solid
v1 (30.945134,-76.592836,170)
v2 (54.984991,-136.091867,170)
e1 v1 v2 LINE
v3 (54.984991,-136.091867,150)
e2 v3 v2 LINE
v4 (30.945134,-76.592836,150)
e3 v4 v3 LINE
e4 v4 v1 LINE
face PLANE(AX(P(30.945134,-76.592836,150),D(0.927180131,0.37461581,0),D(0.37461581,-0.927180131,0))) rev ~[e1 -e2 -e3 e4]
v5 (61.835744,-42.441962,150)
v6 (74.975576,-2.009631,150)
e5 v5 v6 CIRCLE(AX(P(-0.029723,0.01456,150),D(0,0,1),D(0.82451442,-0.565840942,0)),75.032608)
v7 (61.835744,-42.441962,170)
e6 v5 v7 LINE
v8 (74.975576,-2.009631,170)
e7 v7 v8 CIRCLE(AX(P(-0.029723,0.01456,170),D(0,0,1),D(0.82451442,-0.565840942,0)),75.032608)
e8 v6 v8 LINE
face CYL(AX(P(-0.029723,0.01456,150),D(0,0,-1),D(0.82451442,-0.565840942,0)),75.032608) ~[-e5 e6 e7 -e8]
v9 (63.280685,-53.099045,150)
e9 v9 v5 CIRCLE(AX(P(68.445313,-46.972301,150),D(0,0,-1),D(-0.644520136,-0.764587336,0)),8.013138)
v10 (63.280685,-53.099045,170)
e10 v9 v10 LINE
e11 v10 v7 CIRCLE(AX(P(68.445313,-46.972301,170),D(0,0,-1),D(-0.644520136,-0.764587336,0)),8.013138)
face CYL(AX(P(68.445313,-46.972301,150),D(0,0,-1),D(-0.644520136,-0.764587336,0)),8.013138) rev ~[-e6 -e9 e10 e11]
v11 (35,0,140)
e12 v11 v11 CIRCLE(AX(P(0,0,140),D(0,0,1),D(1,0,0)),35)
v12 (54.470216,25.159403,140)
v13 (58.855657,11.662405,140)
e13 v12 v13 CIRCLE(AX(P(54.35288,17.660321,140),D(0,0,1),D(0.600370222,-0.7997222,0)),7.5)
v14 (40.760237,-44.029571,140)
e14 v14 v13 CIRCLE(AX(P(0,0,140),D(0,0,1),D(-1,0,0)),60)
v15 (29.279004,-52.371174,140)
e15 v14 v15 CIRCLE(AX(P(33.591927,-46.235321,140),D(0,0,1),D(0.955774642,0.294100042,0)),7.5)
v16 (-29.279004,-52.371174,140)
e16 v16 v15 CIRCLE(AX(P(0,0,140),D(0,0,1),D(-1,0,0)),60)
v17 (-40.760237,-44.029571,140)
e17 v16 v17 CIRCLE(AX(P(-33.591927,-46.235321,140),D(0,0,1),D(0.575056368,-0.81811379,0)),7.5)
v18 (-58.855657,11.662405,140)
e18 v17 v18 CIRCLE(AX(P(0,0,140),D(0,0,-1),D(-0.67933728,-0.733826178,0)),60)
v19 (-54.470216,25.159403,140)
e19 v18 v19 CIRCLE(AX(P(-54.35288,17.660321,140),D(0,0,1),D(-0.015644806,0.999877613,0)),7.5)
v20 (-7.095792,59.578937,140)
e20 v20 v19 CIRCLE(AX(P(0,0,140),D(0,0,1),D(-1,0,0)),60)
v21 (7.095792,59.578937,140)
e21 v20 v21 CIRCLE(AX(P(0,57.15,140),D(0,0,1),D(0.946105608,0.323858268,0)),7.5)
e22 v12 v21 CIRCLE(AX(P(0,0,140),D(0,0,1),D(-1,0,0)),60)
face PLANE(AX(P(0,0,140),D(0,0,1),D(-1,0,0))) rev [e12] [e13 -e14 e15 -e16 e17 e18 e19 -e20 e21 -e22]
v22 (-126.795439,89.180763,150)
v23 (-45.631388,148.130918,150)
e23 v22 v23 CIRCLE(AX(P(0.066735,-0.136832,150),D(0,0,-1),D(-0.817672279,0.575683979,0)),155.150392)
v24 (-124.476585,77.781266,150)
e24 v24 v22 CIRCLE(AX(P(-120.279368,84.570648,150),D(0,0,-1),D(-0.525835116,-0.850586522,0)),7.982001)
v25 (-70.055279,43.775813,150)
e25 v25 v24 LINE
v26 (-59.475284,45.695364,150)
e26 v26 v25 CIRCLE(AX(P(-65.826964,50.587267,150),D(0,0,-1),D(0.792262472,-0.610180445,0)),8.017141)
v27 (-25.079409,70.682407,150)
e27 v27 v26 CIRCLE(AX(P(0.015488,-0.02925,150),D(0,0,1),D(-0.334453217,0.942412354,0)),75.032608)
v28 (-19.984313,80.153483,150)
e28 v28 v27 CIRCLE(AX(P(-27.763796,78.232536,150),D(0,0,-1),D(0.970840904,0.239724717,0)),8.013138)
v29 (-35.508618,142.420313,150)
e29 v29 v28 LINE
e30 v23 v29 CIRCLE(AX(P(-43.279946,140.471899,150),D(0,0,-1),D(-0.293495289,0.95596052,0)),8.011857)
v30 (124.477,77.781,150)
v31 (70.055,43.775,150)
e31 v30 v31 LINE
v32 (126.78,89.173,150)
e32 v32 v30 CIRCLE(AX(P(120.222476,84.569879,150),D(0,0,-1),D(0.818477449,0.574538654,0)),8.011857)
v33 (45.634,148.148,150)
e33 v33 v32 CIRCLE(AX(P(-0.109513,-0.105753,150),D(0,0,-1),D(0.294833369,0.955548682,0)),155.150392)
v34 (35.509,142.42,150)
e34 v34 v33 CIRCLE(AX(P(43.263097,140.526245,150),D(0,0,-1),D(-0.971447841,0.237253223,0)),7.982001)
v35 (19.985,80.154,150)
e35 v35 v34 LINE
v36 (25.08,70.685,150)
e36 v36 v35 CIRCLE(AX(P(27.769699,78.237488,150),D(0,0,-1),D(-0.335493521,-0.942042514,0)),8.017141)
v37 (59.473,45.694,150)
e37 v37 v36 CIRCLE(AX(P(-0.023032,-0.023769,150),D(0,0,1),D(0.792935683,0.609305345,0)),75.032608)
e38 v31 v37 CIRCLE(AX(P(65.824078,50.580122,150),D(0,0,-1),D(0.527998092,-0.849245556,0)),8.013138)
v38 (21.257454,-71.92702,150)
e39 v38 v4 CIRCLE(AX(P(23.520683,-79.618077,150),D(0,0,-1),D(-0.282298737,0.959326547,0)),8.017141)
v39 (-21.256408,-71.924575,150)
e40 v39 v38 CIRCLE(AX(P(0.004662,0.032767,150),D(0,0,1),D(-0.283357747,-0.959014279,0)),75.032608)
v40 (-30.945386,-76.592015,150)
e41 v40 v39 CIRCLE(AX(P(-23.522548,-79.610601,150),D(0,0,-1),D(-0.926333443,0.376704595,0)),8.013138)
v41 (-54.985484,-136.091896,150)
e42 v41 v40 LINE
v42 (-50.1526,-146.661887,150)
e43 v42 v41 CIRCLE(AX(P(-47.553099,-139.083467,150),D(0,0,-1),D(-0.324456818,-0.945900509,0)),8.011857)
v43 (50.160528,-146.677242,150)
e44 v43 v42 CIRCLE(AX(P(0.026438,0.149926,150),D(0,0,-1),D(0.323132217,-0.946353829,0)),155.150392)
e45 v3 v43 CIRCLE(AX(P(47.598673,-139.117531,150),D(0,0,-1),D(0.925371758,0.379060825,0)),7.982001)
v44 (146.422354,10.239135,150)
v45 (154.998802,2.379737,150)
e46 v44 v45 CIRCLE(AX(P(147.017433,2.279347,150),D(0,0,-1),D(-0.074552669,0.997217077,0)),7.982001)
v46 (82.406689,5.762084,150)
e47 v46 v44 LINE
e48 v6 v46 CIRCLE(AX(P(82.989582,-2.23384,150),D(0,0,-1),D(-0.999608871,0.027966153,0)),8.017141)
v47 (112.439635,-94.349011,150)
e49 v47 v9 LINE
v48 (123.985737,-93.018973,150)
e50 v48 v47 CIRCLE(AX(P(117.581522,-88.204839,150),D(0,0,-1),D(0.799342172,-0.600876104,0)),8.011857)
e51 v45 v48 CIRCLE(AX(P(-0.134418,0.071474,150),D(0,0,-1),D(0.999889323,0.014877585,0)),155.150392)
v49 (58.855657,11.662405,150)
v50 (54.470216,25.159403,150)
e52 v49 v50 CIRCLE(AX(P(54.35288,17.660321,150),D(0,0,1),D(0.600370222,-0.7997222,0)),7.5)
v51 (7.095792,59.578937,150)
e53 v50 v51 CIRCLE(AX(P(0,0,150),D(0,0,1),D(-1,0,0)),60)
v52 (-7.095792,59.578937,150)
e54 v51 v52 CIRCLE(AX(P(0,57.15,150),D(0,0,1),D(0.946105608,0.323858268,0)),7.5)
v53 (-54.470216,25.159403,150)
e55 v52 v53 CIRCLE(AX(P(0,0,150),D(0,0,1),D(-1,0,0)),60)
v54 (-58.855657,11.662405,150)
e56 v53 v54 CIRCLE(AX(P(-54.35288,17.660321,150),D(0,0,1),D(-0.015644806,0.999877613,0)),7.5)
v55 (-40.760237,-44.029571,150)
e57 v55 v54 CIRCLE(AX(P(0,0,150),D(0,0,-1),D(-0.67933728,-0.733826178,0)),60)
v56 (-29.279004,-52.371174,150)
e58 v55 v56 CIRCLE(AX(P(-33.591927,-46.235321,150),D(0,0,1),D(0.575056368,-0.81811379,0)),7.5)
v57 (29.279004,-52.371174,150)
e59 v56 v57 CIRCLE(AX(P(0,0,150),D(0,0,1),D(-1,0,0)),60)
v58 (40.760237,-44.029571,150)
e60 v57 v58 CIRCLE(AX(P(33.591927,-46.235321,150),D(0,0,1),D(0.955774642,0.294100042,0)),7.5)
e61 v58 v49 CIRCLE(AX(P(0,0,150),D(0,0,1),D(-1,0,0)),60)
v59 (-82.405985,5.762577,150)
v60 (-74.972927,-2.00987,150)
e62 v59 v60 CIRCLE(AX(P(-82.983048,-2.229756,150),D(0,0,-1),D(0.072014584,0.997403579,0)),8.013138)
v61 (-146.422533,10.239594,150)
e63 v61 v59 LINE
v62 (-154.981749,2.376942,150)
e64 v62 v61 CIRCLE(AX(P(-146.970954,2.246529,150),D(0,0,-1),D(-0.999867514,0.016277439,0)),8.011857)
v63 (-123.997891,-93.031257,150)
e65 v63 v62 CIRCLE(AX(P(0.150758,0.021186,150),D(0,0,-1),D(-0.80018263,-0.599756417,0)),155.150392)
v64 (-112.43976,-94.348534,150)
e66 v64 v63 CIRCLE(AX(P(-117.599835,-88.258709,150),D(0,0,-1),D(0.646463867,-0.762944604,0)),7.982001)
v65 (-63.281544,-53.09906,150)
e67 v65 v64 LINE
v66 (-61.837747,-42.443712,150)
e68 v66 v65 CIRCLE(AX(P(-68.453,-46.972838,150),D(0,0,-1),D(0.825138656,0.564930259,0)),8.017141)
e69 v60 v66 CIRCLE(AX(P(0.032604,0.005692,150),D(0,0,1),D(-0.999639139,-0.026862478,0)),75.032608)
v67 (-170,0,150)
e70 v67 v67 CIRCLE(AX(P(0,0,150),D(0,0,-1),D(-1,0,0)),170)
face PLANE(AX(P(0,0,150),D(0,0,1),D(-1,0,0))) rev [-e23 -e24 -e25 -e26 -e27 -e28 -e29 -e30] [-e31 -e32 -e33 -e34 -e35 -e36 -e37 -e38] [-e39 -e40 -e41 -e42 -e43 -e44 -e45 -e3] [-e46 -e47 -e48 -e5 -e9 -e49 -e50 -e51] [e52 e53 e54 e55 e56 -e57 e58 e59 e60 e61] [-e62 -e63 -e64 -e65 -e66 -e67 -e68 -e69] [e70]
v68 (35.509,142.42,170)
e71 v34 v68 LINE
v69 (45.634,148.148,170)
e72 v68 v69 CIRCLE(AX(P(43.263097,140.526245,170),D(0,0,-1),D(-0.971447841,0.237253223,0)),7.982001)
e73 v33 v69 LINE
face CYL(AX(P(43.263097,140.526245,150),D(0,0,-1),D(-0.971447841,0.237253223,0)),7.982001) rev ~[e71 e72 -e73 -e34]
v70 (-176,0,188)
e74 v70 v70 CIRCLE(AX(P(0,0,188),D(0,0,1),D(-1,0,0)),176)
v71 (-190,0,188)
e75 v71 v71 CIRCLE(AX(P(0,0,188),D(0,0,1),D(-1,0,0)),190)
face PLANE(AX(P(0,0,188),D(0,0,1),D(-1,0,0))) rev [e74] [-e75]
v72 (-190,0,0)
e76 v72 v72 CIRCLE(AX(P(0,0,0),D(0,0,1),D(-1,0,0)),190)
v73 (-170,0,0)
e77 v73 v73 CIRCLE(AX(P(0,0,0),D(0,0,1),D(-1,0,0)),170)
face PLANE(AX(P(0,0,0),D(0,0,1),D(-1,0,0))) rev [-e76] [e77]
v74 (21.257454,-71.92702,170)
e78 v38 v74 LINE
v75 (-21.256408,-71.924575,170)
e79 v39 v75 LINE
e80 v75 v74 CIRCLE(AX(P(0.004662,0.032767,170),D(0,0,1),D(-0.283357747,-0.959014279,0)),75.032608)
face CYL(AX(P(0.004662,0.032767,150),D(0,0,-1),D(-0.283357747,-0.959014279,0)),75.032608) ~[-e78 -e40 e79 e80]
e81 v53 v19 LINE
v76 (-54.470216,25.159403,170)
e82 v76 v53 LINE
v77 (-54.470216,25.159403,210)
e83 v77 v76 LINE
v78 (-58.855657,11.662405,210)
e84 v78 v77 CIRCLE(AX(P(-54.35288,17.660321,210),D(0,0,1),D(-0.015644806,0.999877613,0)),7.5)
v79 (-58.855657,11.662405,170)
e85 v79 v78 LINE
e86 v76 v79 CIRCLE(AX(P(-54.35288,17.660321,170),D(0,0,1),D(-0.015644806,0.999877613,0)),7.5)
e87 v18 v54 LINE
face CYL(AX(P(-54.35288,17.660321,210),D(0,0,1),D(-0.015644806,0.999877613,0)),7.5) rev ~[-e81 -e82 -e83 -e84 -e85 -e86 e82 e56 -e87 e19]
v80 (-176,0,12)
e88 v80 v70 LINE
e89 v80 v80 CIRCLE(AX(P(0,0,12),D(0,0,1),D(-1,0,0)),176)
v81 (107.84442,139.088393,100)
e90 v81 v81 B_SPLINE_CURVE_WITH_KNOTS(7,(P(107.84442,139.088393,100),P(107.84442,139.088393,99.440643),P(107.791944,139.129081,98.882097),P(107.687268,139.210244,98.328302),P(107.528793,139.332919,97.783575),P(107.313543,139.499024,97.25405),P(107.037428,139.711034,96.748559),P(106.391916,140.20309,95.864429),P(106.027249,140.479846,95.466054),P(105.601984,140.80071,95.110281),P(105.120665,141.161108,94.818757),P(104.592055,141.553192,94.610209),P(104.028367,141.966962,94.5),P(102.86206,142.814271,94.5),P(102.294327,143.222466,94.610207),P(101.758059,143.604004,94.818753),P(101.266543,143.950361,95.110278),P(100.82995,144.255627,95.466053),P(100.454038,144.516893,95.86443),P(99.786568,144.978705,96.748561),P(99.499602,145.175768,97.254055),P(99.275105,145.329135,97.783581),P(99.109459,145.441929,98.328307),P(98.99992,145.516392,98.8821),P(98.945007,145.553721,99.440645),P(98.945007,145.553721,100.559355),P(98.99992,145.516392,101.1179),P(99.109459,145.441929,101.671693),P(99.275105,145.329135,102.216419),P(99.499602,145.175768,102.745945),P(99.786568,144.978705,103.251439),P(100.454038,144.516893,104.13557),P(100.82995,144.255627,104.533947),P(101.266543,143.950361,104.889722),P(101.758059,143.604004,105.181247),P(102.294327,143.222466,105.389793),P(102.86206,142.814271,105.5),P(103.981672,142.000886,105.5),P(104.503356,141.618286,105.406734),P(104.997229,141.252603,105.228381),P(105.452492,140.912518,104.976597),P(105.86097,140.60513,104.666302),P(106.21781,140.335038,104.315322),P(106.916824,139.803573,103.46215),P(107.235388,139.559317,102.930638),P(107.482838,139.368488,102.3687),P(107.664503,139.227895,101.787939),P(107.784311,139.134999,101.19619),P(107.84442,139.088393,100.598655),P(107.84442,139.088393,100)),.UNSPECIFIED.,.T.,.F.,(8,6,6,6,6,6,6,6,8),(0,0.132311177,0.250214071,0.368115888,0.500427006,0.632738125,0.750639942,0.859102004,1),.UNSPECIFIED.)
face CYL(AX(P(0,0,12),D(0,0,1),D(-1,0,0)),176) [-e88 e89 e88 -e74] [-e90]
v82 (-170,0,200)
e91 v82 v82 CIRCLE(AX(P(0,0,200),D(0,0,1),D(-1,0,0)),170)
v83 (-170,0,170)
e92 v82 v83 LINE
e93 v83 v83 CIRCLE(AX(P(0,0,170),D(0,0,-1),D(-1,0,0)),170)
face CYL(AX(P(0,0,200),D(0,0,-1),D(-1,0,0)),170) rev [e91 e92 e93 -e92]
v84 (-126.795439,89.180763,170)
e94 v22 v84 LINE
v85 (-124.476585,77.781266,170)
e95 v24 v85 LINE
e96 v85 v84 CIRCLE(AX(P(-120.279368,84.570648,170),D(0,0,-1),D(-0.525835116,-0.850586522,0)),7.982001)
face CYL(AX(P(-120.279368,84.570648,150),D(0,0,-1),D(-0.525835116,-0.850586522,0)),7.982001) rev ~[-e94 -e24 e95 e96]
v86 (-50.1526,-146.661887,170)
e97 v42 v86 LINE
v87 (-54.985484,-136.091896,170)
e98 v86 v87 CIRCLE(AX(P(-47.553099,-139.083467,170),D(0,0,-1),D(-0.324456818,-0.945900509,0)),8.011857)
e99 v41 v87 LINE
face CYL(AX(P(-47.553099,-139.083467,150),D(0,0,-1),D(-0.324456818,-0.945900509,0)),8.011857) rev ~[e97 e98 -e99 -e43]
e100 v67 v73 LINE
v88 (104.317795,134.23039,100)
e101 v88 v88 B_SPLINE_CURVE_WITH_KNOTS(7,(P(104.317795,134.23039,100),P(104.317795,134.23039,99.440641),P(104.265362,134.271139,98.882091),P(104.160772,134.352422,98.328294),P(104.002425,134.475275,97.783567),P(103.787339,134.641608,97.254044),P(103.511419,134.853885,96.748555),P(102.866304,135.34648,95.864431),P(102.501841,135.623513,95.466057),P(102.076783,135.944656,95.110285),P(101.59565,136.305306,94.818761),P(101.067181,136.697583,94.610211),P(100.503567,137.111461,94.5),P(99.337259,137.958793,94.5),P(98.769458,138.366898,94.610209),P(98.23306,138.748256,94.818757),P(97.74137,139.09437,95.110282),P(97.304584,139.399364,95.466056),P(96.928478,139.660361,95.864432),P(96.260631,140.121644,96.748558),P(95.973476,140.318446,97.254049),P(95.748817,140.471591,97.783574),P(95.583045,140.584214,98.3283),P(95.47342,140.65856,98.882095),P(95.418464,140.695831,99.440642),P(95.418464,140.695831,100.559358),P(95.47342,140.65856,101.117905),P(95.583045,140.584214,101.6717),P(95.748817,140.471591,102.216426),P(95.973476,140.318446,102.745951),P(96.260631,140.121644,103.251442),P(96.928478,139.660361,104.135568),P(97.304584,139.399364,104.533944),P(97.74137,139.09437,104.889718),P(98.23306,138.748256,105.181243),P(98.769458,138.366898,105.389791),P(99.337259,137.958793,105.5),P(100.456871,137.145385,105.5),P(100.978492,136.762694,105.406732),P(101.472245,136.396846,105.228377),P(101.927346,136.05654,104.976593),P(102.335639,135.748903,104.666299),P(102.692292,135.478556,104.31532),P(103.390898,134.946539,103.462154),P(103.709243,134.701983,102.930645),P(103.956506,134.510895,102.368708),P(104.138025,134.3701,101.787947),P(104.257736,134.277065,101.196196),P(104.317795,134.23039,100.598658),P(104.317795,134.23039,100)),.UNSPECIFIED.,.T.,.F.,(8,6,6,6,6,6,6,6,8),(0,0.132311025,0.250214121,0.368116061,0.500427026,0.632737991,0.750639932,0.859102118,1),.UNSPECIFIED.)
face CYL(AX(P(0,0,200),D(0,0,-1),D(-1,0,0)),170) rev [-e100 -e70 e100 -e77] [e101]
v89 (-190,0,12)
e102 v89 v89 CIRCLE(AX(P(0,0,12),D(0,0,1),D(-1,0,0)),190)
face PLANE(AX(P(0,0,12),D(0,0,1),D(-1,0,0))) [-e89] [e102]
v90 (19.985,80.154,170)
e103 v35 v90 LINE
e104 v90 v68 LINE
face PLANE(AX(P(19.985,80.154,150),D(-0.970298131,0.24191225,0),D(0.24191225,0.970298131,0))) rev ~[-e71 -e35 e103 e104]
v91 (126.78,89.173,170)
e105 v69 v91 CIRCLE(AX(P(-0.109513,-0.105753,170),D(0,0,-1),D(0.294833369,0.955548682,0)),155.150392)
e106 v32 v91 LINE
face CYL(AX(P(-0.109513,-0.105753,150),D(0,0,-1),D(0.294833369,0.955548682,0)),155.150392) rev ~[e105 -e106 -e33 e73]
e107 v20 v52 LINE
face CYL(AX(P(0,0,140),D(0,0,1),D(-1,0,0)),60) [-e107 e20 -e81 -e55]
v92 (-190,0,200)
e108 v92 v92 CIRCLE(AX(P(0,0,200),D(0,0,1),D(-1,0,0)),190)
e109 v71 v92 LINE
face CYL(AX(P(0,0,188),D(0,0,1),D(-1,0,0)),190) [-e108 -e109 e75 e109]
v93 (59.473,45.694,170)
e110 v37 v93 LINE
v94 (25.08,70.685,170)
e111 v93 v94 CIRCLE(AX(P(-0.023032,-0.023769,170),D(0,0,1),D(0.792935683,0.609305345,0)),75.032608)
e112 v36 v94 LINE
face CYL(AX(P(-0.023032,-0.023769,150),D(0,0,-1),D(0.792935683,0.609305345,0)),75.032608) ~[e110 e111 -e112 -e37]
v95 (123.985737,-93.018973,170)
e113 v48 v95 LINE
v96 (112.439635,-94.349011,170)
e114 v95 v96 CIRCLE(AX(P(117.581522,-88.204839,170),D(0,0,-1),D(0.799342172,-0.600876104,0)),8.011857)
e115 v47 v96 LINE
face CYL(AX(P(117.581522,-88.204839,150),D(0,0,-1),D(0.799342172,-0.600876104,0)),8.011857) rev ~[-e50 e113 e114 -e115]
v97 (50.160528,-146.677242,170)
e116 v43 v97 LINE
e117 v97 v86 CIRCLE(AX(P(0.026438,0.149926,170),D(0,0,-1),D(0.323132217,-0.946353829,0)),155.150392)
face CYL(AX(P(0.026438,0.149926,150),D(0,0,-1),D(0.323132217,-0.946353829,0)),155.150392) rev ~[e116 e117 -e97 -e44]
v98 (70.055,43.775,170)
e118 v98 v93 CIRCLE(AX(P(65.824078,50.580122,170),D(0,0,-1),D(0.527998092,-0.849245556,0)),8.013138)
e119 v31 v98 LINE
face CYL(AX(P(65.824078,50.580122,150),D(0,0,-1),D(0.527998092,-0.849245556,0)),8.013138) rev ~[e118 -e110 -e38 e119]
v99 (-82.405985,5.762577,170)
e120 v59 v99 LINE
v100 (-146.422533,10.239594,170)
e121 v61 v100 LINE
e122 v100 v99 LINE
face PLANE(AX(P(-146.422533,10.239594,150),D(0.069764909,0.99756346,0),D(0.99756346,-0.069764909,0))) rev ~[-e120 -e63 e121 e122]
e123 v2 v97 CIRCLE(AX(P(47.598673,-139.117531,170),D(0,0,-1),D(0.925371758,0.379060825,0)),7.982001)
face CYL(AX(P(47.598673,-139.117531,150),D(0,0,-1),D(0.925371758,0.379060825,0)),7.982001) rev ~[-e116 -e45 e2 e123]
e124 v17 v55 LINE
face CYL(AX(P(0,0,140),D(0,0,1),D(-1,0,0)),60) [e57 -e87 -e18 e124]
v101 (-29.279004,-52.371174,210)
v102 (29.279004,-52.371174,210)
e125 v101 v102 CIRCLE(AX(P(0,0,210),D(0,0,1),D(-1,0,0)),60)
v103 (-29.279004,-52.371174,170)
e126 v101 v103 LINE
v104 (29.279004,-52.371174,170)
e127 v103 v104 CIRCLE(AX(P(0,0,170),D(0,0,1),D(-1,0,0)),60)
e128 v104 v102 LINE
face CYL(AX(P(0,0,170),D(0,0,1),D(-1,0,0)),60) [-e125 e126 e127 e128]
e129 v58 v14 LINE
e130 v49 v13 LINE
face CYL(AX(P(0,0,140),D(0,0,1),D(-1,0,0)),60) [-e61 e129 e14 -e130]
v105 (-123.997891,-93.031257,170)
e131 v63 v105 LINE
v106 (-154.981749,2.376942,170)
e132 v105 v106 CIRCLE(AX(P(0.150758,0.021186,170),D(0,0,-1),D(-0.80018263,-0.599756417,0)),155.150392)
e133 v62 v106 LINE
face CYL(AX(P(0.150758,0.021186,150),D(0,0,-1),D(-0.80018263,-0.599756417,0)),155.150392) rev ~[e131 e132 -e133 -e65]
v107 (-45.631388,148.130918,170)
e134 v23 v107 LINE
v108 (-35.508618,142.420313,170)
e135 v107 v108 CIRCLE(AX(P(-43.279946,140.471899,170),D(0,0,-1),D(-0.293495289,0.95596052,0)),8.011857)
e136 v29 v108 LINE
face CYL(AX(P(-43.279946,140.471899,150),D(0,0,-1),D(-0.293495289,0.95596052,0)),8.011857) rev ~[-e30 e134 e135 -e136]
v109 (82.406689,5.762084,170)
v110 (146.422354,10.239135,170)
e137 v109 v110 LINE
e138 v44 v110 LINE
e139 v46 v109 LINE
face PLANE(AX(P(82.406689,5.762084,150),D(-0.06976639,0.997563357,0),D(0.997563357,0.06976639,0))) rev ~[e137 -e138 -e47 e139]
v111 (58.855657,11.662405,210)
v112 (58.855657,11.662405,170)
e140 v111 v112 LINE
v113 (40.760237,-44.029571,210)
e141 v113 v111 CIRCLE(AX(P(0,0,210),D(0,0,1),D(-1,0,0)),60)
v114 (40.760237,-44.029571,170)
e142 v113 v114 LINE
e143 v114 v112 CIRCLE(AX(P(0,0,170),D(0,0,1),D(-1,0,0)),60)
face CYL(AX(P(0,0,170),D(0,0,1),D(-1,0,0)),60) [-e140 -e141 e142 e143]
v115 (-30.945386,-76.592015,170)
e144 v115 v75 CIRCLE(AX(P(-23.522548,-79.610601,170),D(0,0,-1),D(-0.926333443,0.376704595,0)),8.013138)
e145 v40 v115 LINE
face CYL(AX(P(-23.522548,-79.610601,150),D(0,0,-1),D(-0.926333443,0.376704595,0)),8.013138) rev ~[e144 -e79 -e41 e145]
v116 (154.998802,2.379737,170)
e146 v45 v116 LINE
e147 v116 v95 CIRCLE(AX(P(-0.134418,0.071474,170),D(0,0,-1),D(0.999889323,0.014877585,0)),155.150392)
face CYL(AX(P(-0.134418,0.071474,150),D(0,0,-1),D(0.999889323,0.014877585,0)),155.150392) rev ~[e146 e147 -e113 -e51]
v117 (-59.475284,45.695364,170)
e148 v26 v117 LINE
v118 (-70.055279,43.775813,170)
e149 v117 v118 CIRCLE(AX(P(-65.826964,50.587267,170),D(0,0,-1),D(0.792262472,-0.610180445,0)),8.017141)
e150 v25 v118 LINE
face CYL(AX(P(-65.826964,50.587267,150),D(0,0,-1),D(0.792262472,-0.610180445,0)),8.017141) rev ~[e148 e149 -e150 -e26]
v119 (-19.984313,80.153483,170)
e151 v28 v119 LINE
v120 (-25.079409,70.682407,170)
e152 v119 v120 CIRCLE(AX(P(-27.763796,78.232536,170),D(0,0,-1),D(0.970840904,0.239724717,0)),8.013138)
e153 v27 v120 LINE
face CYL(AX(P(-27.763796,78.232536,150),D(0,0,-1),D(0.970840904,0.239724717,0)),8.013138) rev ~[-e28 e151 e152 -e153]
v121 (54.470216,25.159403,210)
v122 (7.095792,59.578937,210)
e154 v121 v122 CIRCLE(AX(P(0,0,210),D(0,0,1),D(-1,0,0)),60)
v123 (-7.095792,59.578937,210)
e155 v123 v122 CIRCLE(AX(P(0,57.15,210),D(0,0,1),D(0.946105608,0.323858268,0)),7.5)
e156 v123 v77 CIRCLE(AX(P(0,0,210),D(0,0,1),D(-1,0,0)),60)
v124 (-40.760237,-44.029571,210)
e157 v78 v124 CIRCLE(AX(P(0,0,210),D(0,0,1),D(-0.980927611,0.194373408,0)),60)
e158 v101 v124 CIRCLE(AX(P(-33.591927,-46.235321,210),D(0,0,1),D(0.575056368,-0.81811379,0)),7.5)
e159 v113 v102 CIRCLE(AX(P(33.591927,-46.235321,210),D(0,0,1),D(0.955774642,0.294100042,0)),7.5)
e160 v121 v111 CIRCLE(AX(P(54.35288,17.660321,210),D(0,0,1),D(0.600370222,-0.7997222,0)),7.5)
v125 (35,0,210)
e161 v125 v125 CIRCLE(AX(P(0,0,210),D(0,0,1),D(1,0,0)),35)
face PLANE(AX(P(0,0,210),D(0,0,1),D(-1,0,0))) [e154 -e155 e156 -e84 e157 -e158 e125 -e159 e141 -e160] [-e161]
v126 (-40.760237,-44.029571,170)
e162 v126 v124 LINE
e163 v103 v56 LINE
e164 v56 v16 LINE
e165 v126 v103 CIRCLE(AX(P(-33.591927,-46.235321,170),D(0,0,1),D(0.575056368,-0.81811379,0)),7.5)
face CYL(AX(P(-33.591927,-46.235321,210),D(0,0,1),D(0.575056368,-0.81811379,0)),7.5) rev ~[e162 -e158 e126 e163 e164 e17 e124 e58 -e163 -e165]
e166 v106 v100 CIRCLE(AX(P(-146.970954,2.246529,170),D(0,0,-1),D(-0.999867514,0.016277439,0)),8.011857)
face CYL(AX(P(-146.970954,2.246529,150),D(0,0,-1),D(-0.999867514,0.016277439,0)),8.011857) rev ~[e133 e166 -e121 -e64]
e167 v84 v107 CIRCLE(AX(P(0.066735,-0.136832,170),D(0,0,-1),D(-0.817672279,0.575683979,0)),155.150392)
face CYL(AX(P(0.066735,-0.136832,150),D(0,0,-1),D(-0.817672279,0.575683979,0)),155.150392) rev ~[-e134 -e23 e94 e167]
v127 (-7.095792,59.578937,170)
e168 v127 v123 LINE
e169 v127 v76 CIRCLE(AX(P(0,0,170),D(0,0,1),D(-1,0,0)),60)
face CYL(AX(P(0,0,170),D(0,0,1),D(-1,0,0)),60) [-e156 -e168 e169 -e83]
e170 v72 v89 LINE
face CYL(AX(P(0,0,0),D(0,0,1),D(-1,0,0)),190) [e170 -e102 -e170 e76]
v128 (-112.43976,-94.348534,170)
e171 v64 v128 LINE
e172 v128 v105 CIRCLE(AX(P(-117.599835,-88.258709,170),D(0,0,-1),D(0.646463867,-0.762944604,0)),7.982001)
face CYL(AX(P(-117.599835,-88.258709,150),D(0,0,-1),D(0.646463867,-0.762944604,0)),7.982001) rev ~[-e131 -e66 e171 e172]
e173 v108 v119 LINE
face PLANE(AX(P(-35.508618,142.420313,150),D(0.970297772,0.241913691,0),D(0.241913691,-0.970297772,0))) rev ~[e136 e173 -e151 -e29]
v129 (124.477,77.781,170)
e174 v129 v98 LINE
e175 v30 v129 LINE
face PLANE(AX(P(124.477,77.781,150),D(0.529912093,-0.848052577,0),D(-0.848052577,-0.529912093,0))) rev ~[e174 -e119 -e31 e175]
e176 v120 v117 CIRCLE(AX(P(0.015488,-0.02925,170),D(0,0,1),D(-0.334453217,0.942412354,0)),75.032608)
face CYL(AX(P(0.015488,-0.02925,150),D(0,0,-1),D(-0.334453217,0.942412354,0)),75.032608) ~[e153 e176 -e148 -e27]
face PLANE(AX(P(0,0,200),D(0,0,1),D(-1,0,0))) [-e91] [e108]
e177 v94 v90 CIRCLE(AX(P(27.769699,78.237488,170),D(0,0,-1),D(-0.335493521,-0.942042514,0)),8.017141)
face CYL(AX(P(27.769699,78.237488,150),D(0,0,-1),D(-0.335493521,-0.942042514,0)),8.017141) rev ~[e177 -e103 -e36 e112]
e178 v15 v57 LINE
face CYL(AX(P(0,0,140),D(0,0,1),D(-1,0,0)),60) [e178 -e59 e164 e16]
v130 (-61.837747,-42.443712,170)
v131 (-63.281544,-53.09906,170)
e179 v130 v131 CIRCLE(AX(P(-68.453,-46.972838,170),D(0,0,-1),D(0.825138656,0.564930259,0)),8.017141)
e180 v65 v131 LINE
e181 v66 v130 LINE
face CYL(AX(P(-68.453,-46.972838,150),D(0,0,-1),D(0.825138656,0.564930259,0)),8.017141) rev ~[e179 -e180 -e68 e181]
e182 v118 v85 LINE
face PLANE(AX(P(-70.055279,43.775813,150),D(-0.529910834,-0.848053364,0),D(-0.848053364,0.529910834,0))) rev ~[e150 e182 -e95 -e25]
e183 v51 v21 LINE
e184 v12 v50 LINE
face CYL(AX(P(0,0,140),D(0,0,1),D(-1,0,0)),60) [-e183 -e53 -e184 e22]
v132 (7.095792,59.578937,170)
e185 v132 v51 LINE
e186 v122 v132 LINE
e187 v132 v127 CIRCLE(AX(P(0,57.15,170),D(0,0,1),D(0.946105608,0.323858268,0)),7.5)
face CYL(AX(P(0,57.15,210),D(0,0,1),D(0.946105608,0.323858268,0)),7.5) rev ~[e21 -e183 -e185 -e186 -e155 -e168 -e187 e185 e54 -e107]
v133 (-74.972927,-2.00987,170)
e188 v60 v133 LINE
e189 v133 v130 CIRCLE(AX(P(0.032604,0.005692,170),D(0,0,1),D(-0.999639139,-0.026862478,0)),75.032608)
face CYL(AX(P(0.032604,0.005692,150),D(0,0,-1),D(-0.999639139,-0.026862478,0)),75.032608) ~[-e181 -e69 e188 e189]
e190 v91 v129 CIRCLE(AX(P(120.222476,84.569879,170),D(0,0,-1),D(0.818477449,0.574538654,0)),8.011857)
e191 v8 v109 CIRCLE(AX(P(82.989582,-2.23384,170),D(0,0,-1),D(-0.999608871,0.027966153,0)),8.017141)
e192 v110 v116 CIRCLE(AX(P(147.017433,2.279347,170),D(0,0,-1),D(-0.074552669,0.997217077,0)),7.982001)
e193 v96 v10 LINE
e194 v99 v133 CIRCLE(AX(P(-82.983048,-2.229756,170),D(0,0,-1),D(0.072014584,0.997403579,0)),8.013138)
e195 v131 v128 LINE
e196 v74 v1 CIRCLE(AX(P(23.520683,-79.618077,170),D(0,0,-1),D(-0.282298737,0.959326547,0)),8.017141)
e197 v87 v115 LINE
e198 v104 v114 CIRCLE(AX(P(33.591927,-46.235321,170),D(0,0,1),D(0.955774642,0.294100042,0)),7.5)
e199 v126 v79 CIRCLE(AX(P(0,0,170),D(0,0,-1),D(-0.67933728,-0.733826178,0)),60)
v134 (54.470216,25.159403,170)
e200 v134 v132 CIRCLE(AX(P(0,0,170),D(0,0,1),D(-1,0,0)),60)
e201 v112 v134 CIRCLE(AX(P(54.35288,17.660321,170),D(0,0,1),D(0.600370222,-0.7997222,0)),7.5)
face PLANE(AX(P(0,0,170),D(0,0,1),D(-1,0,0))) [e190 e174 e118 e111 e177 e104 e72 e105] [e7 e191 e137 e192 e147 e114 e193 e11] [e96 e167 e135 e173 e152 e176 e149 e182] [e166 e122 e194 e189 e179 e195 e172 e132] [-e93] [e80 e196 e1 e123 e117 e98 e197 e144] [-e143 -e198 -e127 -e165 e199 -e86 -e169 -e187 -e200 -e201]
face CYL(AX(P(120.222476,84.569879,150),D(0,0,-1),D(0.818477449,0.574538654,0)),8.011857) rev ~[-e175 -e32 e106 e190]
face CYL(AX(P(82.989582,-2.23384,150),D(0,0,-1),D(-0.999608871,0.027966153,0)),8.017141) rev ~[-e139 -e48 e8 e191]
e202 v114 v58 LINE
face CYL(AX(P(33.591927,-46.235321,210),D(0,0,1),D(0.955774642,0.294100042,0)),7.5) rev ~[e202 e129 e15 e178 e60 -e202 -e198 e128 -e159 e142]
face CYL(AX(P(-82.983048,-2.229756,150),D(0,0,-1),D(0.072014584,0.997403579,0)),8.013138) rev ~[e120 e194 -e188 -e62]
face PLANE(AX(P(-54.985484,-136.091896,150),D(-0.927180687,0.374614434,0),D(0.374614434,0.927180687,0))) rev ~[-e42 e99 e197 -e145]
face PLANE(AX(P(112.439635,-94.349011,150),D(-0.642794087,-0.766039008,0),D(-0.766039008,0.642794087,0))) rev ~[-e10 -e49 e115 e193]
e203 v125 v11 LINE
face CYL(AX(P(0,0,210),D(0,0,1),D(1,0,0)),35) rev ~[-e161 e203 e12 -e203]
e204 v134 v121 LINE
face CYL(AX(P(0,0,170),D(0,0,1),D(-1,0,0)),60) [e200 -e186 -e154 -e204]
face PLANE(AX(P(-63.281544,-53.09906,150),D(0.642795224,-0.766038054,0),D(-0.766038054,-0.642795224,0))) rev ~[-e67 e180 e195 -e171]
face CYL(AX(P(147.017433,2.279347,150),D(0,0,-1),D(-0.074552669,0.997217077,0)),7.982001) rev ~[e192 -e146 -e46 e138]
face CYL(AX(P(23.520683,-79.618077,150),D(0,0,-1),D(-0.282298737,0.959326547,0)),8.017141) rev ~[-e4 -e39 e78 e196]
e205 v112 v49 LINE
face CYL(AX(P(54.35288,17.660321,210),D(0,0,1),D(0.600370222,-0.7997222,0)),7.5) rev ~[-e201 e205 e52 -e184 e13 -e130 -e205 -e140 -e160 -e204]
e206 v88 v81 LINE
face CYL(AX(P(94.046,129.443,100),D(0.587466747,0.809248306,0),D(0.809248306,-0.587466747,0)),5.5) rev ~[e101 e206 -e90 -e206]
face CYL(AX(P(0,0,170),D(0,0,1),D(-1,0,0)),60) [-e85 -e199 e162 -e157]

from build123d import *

# Parameters (mm, degrees)
SKETCH_3_R               = 7.5
CUT_EXTRUDE_1_DEPTH      = 342.0278581
SKETCH_4_R               = 35
CUT_EXTRUDE_2_DEPTH      = 342.0278581
SWEEP_2_PROFILE_R        = 5.5
CUT_EXTRUDE_4_DEPTH      = 20
PATTERN_CIRCULAR_2_COUNT = 5


with BuildPart() as part:
    # 草图1 → 旋转1 (revolve)
    with BuildSketch(Plane(origin=(0, 0, 0), x_dir=(1, 0, 0), z_dir=(0, 1, 0))):
        Polygon((170, 0), (190, 0), (190, -12), (176, -12), (176, -188), (190, -188), (190, -200), (170, -200), align=None)
    revolve(axis=Axis((0, 0, 0), (0, 0, 1)))

    # 草图2 → 旋转2 (revolve)
    with BuildSketch(Plane(origin=(0, 0, 0), x_dir=(1, 0, 0), z_dir=(0, 1, 0))):
        Polygon((0, -140), (60, -140), (60, -150), (171, -150), (171, -170), (60, -170), (60, -210), (0, -210), align=None)
    revolve(axis=Axis((0, 0, 140), (0, 0, 1)))

    # 草图3 → 切除-拉伸1 (cut, through all)
    with BuildSketch(Plane.XY.offset(210)):
        with Locations((0, 57.15)):
            Circle(SKETCH_3_R)
        with Locations((-54.35288, 17.660321)):
            Circle(SKETCH_3_R)
        with Locations((-33.591927, -46.235321)):
            Circle(SKETCH_3_R)
        with Locations((33.591927, -46.235321)):
            Circle(SKETCH_3_R)
        with Locations((54.35288, 17.660321)):
            Circle(SKETCH_3_R)
    extrude(amount=-CUT_EXTRUDE_1_DEPTH, mode=Mode.SUBTRACT)

    # 草图4 → 切除-拉伸2 (cut, through all)
    with BuildSketch(Plane.XY.offset(210)):
        Circle(SKETCH_4_R)
    extrude(amount=-CUT_EXTRUDE_2_DEPTH, mode=Mode.SUBTRACT)

    # 切除-扫描2: sweep along a curve in space
    with BuildLine() as sweep_2_path:
        Line((94.046, 129.443, 100), (124.876, 171.912, 100))
    # 切除-扫描2 profile (on start of the path) → 切除-扫描2 (sweep, cut)
    with BuildSketch(Plane(origin=(94.046, 129.443, 100), x_dir=(0.8092483062128621, -0.5874667470517917, 0), z_dir=(0.5874667470517917, 0.8092483062128621, 0))):
        Circle(SWEEP_2_PROFILE_R)
    sweep(path=sweep_2_path.line, mode=Mode.SUBTRACT)

    # 草图13 → 切除-拉伸4 (cut)
    with BuildSketch(Plane.XY.offset(150)):
        with BuildLine():
            Line((19.985, 80.154), (35.509, 142.42))
            ThreePointArc((35.509, 142.42), (39.332805709, 147.47355651), (45.634, 148.148))
            ThreePointArc((45.634, 148.148), (91.104811943, 125.399590257), (126.78, 89.173))
            ThreePointArc((126.78, 89.173), (128.075469778, 82.982322033), (124.477, 77.781))
            Line((124.477, 77.781), (70.055, 43.775))
            ThreePointArc((70.055, 43.775), (64.394250952, 42.695581589), (59.473, 45.694))
            ThreePointArc((59.473, 45.694), (44.083519984, 60.676348797), (25.08, 70.685))
            ThreePointArc((25.08, 70.685), (20.709688829, 74.438697073), (19.985, 80.154))
        make_face()
    cut_extrude_4 = extrude(amount=CUT_EXTRUDE_4_DEPTH, mode=Mode.SUBTRACT)

    # 阵列(圆周)2: 切除-拉伸4 ×5 about axis
    pattern_circular_2_axis = Axis((0, 0, 220.5), (0, 0, -1))
    for i in range(1, PATTERN_CIRCULAR_2_COUNT):
        add(cut_extrude_4.rotate(pattern_circular_2_axis, i * 360 / PATTERN_CIRCULAR_2_COUNT), mode=Mode.SUBTRACT)


solid = part.part
